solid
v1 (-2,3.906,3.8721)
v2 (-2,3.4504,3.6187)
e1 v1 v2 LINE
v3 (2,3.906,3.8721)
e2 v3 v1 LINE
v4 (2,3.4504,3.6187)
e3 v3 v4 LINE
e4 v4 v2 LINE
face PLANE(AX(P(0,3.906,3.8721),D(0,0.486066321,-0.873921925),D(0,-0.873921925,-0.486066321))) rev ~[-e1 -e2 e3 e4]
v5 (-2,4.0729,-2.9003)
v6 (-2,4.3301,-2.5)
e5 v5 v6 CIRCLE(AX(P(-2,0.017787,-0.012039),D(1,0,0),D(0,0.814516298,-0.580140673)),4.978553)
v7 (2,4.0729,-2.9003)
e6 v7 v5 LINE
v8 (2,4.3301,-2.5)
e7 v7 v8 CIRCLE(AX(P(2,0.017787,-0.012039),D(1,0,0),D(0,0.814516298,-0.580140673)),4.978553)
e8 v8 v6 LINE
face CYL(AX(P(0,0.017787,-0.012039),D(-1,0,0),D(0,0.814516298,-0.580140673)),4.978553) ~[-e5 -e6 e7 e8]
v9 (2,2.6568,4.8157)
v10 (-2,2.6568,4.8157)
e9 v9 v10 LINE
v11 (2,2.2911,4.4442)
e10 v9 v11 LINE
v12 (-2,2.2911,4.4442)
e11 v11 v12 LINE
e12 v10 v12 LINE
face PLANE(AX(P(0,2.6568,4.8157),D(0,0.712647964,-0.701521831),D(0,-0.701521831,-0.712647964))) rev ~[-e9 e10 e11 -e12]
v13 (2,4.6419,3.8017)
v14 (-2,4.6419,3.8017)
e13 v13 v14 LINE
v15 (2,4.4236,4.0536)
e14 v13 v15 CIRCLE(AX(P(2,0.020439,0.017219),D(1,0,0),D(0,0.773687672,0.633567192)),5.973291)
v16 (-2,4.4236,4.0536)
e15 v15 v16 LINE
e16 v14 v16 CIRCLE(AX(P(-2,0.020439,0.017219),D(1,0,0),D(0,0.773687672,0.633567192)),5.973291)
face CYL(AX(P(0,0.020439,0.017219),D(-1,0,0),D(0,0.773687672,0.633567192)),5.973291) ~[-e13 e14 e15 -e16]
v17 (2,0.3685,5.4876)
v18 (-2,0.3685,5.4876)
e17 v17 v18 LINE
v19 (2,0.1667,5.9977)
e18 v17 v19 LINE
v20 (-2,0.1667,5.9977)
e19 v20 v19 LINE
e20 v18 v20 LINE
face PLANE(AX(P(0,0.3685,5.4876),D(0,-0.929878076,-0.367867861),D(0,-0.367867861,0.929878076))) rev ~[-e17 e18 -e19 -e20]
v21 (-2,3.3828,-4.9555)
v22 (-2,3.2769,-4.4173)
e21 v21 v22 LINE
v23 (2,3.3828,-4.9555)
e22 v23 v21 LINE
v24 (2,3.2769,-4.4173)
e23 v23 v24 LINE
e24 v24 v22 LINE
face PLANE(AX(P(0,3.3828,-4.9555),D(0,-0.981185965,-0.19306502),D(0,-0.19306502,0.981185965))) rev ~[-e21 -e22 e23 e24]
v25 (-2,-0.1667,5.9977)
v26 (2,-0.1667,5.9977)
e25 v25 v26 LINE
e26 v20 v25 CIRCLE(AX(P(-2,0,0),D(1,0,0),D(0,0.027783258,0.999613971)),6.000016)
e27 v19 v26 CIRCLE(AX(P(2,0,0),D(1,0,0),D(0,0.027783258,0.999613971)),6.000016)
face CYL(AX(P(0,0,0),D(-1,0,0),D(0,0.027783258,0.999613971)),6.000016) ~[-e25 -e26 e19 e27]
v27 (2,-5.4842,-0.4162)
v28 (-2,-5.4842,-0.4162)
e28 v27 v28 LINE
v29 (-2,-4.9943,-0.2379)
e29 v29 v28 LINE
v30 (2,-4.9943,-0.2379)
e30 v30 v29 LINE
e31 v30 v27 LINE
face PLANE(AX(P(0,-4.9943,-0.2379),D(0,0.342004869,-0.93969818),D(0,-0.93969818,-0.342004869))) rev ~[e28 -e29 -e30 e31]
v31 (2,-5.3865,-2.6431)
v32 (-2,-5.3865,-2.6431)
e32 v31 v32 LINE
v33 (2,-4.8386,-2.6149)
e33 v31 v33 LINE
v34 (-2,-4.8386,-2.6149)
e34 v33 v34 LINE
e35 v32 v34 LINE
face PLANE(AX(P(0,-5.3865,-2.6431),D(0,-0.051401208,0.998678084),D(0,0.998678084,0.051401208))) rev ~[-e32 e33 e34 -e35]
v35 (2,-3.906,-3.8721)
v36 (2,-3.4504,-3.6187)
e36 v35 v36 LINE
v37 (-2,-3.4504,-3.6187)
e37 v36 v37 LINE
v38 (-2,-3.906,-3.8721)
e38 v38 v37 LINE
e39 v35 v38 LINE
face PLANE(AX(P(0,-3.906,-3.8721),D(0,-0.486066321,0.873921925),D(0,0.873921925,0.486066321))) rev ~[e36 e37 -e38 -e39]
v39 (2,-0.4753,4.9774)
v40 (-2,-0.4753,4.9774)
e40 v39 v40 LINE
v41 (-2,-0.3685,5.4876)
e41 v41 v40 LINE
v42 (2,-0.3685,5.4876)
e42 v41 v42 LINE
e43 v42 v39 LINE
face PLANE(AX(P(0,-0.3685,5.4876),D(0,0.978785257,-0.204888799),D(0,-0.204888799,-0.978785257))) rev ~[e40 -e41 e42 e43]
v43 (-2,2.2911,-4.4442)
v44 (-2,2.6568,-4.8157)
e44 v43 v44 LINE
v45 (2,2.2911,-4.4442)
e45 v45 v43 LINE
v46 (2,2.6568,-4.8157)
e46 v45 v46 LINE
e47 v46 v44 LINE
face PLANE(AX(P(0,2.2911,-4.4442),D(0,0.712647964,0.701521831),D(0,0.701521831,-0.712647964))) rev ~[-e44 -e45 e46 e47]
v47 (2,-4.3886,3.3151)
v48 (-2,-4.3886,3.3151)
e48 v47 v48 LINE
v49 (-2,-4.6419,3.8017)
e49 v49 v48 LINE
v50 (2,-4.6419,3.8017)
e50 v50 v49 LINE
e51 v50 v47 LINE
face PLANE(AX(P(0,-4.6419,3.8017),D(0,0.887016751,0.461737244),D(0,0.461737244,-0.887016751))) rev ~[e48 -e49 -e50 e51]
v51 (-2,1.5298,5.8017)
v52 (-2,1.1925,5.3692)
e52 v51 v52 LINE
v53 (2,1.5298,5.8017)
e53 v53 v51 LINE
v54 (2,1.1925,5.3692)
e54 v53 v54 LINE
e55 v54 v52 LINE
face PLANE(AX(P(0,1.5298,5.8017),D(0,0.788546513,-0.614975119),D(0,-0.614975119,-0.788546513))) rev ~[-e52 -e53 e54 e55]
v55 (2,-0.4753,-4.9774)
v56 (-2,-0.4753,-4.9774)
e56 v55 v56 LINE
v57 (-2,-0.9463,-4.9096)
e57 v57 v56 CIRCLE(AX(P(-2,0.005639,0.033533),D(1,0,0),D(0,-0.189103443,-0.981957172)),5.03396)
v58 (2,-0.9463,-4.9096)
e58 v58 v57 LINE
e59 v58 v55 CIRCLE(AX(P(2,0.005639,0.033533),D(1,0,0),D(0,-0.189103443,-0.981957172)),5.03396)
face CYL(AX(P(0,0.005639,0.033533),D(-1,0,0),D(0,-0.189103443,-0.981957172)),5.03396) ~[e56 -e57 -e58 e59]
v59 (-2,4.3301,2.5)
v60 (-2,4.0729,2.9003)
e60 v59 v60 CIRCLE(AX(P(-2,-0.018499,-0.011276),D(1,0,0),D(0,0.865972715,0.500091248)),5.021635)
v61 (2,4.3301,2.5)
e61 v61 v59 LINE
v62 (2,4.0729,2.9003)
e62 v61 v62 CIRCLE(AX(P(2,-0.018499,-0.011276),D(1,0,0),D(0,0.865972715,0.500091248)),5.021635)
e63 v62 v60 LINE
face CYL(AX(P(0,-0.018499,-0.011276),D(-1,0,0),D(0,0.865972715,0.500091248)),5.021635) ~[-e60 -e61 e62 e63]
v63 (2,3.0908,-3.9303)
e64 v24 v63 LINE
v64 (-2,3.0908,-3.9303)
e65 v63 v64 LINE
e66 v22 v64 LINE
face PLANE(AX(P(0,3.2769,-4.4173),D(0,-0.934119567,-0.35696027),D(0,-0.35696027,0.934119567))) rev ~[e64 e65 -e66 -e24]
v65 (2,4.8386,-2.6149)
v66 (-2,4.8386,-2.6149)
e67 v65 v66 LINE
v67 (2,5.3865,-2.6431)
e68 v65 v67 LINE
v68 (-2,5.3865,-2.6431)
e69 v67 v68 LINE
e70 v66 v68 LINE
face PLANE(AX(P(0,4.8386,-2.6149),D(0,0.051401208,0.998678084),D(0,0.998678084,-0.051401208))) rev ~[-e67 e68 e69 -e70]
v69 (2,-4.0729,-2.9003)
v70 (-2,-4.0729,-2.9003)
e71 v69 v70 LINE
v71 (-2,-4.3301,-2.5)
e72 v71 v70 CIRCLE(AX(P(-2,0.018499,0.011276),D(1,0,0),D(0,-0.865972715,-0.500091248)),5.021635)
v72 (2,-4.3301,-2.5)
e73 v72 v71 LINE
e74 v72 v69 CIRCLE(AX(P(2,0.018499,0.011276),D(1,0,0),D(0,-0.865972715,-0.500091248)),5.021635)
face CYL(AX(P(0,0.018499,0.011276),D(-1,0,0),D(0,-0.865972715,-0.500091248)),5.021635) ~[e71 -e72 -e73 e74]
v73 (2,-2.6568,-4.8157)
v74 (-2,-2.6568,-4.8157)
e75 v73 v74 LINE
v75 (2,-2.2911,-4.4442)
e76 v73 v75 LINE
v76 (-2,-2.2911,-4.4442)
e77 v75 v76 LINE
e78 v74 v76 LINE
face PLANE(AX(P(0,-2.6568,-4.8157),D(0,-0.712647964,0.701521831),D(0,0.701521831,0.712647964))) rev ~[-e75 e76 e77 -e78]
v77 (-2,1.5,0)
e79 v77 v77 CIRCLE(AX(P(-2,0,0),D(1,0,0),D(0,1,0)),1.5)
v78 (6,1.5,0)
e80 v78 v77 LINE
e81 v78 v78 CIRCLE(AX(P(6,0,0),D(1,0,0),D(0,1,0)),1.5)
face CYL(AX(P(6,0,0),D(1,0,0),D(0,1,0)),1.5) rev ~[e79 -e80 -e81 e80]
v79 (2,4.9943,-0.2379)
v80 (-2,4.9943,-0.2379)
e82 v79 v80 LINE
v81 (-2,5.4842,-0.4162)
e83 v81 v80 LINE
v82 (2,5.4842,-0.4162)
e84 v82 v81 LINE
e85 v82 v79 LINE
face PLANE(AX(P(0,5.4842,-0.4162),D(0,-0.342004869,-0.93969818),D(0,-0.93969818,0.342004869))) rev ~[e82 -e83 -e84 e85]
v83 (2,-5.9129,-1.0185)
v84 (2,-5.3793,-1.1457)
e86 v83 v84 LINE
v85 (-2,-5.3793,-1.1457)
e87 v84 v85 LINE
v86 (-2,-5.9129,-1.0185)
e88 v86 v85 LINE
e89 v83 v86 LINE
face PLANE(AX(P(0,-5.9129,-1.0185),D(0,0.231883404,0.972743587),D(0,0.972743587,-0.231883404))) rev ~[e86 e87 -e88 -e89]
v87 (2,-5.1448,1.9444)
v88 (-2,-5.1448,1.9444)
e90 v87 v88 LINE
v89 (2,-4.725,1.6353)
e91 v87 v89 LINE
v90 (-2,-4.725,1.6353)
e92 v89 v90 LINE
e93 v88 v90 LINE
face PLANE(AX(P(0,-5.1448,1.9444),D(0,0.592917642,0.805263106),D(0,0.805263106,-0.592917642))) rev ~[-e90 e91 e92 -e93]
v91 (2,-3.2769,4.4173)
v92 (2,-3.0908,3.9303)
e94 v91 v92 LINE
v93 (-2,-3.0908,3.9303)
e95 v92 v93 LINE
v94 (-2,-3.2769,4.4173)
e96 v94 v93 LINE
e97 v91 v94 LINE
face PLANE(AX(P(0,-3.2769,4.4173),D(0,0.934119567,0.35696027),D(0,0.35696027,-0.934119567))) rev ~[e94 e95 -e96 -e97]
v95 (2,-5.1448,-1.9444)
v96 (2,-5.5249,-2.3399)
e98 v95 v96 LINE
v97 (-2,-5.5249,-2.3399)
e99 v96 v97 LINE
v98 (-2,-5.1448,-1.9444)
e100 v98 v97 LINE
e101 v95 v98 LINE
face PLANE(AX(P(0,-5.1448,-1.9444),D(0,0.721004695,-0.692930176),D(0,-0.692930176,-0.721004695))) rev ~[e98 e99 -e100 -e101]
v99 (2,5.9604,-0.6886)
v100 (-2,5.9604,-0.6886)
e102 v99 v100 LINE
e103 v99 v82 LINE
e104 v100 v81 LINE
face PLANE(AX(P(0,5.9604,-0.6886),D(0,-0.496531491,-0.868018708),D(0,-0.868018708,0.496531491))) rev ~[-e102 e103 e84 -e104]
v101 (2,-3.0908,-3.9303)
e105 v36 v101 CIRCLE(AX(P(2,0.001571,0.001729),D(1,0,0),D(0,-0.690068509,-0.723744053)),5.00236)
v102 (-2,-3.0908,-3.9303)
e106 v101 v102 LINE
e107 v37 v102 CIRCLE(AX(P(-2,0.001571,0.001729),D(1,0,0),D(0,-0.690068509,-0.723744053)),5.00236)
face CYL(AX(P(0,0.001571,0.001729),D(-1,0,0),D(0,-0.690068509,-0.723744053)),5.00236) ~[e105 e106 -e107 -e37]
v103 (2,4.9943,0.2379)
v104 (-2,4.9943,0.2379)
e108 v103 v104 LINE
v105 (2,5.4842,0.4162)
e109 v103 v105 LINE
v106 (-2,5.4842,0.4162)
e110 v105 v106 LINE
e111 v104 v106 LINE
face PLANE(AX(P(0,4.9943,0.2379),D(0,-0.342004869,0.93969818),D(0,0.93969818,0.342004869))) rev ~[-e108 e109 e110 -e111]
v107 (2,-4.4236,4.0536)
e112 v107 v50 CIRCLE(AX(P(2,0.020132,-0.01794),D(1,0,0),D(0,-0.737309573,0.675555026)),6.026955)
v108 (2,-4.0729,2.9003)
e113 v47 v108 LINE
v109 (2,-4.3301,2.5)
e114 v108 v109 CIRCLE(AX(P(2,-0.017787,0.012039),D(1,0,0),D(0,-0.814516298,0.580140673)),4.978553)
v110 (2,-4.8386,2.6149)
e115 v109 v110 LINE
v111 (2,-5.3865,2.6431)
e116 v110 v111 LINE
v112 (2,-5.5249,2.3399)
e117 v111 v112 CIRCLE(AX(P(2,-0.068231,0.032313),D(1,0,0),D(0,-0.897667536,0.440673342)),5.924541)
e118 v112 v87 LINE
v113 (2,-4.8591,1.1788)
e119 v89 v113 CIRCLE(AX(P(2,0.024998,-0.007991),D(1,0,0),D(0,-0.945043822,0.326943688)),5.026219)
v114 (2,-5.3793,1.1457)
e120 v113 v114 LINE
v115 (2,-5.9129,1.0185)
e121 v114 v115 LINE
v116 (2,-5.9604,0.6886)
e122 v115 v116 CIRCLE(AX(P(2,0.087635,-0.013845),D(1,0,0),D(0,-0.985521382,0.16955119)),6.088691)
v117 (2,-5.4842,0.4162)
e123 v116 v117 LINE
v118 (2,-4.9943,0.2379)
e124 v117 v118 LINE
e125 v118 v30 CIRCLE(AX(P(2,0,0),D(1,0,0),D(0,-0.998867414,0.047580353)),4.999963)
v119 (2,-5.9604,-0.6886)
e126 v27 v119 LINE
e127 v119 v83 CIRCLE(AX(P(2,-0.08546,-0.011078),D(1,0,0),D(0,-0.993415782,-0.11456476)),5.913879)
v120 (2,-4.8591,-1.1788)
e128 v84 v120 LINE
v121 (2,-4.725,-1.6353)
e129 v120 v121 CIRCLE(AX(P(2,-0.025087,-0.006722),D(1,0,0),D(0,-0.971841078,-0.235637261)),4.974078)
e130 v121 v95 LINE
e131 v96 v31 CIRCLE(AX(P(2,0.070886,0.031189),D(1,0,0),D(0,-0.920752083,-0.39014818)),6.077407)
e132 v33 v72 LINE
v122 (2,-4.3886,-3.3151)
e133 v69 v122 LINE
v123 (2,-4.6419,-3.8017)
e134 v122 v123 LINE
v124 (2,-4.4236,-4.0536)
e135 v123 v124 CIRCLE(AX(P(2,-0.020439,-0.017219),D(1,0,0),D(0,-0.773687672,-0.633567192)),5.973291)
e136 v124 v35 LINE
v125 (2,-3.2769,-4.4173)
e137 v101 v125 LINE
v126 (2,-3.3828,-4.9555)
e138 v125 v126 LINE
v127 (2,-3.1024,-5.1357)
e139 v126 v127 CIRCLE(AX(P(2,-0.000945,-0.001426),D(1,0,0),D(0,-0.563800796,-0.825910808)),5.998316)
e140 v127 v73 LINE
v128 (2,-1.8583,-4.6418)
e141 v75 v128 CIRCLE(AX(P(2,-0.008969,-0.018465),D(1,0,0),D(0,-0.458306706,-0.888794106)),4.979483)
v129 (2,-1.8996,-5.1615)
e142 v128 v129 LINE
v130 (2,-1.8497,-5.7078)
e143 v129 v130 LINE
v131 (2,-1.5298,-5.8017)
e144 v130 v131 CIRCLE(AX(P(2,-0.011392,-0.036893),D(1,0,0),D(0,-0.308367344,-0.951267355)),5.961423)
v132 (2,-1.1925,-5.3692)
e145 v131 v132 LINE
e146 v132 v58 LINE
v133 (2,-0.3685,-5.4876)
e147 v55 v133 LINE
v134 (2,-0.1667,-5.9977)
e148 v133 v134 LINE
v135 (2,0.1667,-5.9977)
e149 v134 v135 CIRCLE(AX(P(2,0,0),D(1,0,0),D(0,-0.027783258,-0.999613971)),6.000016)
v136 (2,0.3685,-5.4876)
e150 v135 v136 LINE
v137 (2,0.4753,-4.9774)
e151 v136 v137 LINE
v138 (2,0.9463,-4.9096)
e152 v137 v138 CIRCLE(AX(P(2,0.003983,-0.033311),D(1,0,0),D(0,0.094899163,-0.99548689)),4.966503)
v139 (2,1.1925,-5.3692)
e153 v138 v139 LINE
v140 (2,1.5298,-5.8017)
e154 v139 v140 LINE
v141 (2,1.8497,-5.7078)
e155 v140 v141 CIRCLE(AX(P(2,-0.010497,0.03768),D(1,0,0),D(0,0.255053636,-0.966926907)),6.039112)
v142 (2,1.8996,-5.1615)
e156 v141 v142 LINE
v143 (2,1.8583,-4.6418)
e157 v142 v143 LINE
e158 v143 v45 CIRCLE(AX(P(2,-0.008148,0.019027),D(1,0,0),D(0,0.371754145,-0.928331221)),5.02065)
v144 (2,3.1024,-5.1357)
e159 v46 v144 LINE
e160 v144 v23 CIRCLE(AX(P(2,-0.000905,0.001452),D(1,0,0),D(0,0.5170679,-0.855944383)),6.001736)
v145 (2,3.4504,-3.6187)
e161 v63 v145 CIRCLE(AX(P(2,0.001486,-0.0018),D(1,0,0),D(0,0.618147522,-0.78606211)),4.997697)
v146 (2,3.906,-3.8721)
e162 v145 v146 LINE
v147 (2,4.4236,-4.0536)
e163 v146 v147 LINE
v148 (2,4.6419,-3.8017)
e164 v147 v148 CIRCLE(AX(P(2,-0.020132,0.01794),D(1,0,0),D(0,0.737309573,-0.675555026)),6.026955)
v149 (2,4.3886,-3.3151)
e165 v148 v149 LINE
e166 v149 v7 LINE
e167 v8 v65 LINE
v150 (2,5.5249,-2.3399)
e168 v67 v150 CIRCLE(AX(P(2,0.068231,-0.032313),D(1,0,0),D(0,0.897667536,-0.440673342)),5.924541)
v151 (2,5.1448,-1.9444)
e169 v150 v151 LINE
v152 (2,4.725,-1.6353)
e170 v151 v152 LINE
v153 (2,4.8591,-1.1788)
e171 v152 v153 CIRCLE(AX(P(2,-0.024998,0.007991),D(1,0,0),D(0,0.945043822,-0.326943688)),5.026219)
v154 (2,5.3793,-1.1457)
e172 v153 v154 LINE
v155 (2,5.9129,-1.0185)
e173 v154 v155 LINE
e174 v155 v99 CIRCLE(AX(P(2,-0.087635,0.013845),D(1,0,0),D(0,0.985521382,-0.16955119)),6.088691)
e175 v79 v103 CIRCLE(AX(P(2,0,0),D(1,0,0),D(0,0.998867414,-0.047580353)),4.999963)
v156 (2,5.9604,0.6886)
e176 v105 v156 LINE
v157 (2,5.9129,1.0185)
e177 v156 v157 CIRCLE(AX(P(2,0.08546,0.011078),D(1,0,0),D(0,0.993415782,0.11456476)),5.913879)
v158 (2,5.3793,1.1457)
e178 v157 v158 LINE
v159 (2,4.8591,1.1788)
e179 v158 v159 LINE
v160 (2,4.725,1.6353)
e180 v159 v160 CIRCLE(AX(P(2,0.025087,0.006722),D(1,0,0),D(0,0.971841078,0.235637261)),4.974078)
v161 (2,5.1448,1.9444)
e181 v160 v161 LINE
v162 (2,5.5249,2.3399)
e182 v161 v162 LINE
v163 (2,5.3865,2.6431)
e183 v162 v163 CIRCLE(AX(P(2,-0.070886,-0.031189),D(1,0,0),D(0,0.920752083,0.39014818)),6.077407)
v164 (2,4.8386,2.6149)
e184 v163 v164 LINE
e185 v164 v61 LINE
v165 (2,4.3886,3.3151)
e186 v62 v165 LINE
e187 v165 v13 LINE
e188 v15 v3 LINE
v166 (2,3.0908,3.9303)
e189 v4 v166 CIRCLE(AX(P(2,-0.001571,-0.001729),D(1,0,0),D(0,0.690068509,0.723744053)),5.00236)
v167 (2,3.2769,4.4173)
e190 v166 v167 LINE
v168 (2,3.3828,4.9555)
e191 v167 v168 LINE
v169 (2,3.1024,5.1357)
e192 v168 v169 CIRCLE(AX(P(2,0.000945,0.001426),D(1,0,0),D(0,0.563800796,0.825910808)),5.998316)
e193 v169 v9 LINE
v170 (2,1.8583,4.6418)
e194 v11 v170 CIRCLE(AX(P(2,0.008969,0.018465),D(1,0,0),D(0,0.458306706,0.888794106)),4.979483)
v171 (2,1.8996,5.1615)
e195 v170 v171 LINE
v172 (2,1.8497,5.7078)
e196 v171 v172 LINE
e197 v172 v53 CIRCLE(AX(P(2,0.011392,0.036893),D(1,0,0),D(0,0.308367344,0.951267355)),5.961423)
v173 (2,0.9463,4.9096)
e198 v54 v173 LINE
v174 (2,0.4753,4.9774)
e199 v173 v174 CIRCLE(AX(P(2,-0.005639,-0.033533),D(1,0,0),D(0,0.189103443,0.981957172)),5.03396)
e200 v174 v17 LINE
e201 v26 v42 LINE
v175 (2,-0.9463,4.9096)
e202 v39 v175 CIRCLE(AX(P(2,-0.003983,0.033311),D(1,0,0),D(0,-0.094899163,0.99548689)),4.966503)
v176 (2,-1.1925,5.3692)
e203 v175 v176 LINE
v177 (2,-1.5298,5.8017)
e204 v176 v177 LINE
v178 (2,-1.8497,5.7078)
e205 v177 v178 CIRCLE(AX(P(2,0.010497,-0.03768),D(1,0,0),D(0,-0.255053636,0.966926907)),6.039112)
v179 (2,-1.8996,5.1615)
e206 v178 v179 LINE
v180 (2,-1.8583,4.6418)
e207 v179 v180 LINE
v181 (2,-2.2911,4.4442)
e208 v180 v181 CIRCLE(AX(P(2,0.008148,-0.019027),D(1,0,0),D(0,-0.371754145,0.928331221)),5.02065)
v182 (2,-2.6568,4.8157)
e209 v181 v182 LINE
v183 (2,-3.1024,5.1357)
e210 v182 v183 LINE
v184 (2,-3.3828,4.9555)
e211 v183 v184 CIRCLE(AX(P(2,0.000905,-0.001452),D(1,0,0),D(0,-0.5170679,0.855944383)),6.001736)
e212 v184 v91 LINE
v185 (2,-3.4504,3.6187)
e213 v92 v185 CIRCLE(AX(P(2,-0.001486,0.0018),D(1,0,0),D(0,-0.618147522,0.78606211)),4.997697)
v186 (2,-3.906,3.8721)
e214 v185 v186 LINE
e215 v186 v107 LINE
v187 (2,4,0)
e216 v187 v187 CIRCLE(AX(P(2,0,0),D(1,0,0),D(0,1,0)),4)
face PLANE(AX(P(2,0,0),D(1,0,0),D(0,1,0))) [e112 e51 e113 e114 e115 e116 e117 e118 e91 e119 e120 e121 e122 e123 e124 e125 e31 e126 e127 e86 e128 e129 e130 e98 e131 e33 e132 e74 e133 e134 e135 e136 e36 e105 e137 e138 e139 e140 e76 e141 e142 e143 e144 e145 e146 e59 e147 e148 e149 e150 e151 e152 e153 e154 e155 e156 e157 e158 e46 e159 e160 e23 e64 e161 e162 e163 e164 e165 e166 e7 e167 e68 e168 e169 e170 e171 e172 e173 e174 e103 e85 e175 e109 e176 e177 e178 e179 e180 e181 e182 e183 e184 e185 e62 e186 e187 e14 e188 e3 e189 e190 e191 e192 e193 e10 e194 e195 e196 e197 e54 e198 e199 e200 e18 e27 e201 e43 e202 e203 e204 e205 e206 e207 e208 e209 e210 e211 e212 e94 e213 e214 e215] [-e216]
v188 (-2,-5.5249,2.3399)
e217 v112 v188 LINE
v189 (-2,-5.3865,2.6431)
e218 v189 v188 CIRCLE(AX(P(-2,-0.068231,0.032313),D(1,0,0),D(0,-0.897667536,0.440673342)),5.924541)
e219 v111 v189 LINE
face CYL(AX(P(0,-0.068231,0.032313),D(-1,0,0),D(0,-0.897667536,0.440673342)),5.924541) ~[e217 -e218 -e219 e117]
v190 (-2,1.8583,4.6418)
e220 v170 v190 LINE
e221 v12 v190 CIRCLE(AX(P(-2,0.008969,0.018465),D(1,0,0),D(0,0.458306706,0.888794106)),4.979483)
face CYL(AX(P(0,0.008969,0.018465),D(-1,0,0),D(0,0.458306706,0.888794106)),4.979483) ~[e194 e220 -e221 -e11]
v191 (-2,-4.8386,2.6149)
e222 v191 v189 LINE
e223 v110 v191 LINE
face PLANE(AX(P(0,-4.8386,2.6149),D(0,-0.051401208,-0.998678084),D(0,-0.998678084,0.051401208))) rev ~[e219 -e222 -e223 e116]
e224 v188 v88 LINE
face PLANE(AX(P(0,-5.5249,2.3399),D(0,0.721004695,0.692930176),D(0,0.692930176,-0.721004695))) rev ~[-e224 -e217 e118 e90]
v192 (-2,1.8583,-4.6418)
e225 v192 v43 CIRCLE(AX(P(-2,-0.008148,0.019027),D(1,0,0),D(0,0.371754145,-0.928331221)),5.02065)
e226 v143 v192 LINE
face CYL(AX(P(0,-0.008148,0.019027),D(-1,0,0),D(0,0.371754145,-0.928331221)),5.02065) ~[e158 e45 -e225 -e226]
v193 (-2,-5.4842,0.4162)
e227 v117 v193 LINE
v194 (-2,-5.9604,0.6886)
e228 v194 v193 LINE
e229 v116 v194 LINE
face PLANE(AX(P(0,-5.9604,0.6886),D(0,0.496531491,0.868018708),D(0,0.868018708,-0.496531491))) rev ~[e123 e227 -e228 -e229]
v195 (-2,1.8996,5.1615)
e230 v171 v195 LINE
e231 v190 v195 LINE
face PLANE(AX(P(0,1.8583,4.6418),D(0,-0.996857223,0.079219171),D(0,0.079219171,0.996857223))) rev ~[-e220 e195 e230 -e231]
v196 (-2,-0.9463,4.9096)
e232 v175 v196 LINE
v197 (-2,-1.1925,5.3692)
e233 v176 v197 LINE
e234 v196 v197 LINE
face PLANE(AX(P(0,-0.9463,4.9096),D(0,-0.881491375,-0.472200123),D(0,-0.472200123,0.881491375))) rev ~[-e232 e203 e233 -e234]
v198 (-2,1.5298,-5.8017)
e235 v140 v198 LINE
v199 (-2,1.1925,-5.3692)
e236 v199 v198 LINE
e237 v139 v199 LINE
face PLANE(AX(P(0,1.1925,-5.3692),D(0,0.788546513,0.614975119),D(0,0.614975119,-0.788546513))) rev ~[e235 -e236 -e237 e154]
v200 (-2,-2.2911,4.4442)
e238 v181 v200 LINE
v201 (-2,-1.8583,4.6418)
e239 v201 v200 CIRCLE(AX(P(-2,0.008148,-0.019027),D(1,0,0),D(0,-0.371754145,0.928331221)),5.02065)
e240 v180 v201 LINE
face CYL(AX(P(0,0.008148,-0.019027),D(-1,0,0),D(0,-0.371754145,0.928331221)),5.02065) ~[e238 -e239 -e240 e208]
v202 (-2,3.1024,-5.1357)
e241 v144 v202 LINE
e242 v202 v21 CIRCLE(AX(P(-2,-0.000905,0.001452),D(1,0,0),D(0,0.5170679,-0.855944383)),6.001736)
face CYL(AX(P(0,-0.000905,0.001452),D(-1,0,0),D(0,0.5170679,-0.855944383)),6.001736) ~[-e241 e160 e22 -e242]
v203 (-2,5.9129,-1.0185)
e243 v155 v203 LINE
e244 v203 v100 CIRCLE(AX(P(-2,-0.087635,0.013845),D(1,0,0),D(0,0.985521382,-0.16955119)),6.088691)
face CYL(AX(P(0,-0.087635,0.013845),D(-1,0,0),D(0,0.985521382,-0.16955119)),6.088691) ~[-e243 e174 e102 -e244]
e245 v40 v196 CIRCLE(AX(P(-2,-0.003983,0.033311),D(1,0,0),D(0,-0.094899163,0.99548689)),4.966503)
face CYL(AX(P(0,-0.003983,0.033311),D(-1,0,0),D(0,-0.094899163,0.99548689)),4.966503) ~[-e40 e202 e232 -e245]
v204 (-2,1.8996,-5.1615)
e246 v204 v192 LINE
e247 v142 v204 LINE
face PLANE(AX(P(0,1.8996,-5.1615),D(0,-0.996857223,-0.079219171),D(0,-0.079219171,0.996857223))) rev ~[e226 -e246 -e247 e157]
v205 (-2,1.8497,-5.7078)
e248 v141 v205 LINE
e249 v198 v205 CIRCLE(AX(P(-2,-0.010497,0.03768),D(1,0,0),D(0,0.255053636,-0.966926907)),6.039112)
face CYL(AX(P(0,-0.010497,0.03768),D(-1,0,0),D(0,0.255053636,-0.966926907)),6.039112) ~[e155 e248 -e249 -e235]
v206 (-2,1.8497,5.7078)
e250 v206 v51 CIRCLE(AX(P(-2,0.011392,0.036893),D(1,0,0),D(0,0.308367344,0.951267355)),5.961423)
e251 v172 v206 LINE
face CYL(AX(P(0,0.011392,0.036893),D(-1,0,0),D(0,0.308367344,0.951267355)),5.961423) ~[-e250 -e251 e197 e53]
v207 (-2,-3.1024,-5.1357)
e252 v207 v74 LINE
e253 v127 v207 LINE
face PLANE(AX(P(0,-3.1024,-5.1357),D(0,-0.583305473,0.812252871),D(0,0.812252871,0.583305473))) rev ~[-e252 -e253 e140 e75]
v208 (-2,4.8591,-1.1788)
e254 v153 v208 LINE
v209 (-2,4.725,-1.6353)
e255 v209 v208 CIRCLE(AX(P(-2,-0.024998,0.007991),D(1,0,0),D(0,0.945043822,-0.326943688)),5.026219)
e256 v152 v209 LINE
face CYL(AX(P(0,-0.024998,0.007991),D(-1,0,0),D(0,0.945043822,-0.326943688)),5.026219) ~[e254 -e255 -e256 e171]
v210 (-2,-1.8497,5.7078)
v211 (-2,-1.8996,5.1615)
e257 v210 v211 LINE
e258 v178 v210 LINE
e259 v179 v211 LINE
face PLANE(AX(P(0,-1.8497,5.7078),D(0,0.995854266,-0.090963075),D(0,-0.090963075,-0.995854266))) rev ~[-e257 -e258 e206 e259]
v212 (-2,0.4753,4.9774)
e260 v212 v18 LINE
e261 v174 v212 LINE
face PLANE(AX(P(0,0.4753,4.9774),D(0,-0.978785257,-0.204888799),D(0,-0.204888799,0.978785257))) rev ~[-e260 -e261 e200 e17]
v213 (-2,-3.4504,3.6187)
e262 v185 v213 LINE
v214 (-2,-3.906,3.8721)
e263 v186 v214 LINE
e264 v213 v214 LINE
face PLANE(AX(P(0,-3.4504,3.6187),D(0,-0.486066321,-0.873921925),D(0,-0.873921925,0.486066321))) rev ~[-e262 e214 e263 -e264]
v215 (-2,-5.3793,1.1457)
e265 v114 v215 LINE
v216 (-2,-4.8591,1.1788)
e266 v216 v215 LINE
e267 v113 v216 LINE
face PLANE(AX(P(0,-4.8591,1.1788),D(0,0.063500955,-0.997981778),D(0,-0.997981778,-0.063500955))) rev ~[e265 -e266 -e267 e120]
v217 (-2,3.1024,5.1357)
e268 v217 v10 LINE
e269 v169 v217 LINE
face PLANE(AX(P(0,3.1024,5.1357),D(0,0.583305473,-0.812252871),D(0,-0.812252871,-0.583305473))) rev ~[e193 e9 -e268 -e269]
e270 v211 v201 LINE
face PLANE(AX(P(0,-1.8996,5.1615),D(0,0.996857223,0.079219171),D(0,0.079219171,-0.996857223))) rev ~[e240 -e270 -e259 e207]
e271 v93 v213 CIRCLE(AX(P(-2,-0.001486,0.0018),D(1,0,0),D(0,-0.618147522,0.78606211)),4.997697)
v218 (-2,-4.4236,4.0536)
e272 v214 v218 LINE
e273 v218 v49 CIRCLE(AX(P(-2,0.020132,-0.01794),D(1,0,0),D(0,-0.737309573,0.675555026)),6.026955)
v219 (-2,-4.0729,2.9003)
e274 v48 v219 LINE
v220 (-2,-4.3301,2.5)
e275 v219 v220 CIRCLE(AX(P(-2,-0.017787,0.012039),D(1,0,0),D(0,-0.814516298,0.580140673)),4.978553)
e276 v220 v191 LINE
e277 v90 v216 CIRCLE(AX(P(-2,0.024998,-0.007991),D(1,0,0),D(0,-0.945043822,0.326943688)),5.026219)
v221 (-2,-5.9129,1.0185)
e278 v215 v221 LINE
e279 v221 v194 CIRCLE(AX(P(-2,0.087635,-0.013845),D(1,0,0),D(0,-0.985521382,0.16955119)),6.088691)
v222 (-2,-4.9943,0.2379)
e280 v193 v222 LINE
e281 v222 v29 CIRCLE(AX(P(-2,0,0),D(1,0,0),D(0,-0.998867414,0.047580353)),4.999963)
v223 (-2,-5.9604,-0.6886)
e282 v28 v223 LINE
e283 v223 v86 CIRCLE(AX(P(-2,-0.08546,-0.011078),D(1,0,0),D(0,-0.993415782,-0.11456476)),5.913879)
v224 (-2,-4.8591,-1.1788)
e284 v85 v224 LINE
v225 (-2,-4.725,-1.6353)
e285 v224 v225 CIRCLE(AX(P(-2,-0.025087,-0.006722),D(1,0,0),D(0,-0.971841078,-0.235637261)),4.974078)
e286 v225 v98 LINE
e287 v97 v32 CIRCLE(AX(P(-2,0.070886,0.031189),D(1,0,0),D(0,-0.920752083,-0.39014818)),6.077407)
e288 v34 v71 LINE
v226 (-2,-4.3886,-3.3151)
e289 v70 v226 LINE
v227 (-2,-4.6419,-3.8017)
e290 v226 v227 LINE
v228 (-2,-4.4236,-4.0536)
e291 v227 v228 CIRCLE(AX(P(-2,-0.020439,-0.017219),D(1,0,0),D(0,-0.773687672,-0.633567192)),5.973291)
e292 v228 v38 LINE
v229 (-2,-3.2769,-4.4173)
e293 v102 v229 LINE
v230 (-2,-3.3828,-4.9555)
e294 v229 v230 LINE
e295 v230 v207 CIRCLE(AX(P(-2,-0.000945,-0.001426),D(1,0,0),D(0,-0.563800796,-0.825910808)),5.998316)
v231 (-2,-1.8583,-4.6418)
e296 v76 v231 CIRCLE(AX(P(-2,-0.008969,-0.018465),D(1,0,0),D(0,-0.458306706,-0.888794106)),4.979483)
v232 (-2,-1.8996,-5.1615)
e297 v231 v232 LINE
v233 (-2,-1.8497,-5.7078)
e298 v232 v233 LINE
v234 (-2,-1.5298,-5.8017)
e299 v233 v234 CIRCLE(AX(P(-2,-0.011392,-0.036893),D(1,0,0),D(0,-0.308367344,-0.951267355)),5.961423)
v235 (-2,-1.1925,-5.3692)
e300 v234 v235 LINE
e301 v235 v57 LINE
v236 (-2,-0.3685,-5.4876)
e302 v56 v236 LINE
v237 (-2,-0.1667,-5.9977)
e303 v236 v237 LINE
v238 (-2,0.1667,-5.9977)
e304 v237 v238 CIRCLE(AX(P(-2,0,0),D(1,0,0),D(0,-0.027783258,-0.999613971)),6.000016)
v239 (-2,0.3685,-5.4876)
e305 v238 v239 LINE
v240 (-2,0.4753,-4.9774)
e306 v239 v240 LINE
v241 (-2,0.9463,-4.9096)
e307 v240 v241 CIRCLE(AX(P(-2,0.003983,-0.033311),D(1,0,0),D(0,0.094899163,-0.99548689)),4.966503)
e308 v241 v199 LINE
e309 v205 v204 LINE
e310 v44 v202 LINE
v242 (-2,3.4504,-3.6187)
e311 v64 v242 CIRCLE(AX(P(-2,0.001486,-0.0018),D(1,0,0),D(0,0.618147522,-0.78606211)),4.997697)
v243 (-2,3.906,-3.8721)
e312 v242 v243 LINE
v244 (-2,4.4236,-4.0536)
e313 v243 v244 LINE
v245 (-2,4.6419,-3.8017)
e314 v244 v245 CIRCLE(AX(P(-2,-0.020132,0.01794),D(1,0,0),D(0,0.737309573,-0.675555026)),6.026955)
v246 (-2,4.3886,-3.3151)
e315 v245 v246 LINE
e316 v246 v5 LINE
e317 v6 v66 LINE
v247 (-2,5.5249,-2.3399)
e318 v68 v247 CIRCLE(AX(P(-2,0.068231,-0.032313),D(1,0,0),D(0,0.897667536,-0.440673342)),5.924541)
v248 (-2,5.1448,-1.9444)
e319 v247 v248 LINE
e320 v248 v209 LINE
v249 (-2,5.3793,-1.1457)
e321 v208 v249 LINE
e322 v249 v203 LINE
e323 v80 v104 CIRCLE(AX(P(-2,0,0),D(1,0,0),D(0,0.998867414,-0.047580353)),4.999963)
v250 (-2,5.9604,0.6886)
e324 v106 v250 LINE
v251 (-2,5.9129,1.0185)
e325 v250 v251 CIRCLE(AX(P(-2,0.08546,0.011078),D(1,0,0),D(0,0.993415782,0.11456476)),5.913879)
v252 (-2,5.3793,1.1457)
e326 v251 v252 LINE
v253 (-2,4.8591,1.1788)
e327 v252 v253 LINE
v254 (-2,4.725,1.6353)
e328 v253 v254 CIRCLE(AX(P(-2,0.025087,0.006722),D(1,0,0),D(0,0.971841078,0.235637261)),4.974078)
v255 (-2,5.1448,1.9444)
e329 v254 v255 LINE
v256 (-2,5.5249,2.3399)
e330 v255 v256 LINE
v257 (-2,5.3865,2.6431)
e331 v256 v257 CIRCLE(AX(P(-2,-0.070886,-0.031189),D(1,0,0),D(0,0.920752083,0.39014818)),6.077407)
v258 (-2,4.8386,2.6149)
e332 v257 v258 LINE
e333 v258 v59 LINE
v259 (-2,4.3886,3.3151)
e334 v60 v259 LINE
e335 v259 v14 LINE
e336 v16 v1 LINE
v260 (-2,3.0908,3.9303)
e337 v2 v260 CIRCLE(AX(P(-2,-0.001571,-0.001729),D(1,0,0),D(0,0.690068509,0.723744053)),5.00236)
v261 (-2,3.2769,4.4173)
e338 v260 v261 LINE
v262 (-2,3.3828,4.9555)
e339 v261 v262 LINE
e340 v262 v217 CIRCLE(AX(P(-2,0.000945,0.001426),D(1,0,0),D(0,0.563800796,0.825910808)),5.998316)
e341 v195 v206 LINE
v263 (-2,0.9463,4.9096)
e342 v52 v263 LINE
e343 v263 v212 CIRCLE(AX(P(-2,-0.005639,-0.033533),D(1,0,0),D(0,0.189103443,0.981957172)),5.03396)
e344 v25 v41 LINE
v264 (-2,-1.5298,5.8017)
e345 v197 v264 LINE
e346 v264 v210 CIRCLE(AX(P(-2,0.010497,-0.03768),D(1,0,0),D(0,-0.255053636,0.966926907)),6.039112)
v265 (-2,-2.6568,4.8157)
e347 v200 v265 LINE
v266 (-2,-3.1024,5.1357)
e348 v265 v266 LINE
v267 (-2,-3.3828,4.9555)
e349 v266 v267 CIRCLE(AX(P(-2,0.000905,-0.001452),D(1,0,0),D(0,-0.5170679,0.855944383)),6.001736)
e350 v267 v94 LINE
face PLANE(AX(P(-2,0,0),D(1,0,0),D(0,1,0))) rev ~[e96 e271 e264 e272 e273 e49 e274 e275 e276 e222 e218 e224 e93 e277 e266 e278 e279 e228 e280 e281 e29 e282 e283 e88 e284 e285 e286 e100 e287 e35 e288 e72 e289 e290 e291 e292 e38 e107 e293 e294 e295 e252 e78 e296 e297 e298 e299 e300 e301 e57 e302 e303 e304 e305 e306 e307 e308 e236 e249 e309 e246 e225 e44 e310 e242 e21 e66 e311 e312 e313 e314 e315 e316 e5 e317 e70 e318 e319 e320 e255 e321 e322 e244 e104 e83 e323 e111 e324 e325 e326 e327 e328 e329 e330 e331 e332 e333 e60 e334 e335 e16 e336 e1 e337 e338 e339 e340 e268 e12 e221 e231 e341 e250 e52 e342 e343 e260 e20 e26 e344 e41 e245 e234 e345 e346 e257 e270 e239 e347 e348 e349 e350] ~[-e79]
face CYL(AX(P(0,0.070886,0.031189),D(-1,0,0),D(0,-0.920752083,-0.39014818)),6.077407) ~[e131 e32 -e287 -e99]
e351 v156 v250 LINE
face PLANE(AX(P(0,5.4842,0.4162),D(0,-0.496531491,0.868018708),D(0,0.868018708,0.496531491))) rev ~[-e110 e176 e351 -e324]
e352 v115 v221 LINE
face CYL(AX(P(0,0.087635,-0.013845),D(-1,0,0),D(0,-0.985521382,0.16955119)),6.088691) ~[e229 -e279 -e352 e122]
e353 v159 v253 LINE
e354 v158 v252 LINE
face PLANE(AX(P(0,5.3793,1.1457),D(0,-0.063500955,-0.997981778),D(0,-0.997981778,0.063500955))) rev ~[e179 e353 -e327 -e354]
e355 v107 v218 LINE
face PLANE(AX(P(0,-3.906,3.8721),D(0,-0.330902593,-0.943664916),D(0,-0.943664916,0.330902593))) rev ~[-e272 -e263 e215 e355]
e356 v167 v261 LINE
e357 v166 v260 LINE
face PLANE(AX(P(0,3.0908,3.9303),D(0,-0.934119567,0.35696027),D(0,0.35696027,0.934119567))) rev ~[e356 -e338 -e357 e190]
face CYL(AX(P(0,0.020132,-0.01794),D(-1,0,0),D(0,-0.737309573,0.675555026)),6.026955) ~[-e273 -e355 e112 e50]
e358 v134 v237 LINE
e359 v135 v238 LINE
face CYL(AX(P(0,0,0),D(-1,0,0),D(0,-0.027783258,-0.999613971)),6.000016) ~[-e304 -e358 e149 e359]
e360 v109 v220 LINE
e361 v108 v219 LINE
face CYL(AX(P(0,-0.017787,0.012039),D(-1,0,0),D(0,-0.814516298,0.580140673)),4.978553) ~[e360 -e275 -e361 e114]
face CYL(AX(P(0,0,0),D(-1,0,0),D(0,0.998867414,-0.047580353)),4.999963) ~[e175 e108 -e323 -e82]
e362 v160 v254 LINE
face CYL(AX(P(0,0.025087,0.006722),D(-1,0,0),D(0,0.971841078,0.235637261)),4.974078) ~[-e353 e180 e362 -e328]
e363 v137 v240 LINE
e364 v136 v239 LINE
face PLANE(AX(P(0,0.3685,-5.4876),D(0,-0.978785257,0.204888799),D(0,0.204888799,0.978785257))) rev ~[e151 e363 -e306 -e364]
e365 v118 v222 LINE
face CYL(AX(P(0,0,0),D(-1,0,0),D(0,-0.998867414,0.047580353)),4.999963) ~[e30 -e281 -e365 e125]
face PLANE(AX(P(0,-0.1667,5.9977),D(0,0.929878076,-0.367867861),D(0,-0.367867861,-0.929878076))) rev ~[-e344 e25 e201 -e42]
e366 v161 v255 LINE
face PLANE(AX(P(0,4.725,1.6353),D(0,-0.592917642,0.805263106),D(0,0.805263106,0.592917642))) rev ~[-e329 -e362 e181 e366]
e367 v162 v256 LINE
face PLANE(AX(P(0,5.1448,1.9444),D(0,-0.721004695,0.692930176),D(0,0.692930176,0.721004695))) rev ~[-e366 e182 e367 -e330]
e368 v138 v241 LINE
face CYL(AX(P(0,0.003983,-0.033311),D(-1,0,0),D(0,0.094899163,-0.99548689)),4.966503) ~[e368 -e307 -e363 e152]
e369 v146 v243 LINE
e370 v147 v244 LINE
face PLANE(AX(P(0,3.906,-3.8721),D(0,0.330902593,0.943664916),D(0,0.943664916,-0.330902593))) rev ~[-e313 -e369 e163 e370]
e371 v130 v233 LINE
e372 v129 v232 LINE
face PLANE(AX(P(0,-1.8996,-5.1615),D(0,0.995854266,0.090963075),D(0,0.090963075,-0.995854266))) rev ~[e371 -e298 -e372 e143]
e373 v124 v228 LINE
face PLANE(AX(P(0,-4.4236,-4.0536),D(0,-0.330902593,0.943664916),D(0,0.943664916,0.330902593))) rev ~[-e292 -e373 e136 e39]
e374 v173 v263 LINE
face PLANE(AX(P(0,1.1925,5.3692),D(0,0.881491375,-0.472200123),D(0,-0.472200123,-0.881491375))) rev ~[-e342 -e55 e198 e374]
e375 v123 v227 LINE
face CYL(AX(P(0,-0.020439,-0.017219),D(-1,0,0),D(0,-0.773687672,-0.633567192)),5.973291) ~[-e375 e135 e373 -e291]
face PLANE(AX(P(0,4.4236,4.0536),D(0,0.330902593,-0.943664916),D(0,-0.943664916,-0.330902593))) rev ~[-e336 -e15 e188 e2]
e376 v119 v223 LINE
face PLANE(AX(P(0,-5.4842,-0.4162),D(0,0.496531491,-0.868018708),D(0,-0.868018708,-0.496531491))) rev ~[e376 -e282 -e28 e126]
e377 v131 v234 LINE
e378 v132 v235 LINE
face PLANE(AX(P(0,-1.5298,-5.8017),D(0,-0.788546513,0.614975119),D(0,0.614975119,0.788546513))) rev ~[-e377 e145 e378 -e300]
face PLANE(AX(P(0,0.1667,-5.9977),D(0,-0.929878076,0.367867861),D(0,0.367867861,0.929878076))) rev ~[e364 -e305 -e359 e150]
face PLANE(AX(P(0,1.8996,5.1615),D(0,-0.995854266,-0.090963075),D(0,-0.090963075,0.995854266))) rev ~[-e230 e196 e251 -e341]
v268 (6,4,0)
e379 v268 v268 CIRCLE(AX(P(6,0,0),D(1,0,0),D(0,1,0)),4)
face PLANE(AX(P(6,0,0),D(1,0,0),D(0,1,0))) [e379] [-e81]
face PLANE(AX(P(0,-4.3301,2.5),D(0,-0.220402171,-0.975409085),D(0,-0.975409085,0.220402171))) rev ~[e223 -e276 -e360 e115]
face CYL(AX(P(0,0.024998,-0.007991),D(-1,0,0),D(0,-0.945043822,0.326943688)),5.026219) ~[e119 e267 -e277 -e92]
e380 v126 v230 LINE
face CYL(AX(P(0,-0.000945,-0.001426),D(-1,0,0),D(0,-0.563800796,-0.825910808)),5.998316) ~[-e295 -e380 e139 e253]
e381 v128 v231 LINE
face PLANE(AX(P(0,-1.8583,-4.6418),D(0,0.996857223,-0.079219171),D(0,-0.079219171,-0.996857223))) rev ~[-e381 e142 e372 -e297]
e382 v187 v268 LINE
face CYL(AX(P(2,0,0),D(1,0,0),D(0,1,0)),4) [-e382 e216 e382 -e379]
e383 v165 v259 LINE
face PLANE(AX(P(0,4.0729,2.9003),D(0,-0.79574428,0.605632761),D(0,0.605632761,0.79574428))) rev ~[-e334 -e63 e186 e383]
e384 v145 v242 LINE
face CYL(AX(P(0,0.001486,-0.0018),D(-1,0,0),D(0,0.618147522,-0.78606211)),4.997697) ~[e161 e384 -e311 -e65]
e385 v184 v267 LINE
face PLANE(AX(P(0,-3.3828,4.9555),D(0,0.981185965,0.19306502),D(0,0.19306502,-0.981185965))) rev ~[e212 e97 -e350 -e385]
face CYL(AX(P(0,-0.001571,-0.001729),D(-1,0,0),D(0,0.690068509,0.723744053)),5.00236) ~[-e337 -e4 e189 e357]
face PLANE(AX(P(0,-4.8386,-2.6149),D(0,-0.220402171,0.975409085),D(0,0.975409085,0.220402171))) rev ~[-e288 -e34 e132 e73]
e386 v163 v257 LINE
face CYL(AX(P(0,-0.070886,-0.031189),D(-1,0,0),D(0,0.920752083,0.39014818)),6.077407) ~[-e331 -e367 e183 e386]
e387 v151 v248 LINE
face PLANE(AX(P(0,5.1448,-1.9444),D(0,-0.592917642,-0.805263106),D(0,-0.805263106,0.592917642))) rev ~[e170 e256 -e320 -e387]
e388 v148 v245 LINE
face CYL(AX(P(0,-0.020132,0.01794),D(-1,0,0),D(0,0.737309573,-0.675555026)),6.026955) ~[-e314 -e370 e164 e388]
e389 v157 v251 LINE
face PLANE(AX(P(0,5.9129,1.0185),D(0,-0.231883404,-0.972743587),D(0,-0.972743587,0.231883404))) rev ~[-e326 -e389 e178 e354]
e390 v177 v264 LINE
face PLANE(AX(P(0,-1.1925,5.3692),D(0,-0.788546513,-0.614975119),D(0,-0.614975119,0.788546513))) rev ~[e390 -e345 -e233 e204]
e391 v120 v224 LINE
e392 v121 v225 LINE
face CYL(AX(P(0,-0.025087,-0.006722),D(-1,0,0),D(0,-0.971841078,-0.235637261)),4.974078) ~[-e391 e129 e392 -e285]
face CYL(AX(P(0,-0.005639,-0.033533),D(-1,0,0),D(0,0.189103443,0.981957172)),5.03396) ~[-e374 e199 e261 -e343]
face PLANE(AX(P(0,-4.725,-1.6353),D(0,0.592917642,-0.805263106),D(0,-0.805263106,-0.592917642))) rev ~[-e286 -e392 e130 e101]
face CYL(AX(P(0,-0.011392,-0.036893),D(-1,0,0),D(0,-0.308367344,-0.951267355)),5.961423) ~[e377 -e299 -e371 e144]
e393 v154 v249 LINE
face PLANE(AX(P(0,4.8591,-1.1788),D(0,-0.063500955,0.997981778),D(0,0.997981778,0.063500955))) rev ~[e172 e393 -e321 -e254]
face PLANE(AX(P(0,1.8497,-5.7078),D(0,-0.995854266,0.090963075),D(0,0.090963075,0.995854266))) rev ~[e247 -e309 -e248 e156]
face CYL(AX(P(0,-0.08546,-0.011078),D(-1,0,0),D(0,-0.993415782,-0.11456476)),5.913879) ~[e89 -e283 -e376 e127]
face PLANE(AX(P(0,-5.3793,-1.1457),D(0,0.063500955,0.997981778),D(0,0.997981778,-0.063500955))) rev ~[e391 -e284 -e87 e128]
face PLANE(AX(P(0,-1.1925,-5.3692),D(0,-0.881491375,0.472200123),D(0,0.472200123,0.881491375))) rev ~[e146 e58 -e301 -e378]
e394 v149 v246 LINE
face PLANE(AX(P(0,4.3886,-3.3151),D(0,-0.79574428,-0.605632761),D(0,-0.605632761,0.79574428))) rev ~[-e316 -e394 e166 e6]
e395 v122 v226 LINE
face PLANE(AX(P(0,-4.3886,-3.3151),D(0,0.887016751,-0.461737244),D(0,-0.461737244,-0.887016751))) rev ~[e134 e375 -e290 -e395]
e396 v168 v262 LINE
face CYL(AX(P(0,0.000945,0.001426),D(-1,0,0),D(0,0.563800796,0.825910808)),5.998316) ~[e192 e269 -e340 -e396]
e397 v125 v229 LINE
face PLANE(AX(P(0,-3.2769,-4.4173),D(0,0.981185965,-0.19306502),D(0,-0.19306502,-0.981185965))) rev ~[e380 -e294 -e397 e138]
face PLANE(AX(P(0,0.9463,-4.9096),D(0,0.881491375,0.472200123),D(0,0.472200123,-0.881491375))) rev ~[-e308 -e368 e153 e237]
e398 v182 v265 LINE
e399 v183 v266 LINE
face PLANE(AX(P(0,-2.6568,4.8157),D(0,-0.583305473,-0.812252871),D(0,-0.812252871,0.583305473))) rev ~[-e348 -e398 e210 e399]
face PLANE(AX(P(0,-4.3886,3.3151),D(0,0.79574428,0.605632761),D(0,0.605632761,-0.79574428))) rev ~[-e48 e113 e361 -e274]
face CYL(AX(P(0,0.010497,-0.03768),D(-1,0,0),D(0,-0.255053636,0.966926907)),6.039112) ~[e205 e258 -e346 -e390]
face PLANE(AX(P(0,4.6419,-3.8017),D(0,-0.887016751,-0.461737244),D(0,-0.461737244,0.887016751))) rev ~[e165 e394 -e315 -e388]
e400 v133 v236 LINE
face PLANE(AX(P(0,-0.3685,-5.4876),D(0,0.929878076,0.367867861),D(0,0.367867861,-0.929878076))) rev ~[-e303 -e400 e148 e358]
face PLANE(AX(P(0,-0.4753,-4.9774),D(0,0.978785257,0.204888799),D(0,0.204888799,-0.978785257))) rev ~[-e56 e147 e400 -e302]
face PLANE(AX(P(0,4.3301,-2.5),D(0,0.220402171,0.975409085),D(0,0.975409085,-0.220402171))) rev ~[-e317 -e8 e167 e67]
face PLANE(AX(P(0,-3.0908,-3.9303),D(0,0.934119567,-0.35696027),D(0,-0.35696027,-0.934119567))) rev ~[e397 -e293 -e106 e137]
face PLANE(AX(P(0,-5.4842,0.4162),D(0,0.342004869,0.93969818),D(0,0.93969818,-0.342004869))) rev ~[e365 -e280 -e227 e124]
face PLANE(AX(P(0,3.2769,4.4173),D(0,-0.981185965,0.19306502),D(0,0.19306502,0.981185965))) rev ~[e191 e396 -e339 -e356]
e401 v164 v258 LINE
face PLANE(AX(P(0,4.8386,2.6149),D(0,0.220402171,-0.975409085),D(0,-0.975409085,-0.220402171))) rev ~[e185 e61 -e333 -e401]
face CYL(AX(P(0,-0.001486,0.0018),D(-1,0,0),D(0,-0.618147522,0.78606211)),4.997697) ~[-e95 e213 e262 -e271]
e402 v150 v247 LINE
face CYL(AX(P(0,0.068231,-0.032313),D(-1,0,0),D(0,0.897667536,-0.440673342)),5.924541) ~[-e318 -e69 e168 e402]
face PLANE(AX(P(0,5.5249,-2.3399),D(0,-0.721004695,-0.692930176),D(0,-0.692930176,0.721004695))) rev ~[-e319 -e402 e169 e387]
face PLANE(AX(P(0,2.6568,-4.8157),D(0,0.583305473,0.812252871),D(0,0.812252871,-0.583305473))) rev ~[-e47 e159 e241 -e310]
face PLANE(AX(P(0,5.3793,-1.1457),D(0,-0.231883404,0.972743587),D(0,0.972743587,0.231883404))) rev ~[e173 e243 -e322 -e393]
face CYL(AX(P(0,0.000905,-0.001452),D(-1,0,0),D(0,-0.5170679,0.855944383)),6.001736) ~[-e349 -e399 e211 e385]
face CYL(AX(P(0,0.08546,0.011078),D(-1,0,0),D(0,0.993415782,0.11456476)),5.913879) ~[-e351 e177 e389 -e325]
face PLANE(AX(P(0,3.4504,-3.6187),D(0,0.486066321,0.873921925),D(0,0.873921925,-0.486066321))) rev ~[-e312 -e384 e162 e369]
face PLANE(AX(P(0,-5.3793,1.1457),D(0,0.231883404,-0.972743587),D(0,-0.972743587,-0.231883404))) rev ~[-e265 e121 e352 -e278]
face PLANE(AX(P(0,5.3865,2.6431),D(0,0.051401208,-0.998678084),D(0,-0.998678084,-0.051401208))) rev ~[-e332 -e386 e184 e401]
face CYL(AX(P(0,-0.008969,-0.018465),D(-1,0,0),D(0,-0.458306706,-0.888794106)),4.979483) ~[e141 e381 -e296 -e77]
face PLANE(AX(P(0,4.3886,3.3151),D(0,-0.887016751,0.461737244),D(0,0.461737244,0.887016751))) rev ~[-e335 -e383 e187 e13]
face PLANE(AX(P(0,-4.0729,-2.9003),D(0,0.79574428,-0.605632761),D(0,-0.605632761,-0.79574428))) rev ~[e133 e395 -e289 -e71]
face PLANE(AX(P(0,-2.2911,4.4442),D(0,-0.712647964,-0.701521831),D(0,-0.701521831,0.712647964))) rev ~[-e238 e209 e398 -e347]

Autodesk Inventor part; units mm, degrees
ref_plane "YZ Plane" through (0, 0, 0) normal (1, 0, 0) x (0, 1, 0)
ref_plane "XZ Plane" through (0, 0, 0) normal (0, 1, 0) x (-1, 0, 0)
ref_plane "XY Plane" through (0, 0, 0) normal (0, 0, 1) x (1, 0, 0)
sketch "Skizze_1" plane through (0, 0, 0) normal (1, 0, 0) x (0, 1, 0)
  arc A0 (0.1667, 5.9977) -> (-0.1667, 5.9977) centre (0, 0) ccw
  line L0 (-0.1667, 5.9977) -> (-0.3685, 5.4876)
  line L1 (-0.3685, 5.4876) -> (-0.4753, 4.9774)
  arc A1 (-0.4753, 4.9774) -> (-0.9463, 4.9096) centre (0, 0) ccw
  line L2 (-0.9463, 4.9096) -> (-1.1925, 5.3692)
  line L3 (-1.1925, 5.3692) -> (-1.5298, 5.8017)
  arc A2 (-1.5298, 5.8017) -> (-1.8497, 5.7078) centre (0, 0) ccw
  line L4 (-1.8497, 5.7078) -> (-1.8996, 5.1615)
  line L5 (-1.8996, 5.1615) -> (-1.8583, 4.6418)
  arc A3 (-1.8583, 4.6418) -> (-2.2911, 4.4442) centre (0, 0) ccw
  line L6 (-2.2911, 4.4442) -> (-2.6568, 4.8157)
  line L7 (-2.6568, 4.8157) -> (-3.1024, 5.1357)
  arc A4 (-3.1024, 5.1357) -> (-3.3828, 4.9555) centre (0, 0) ccw
  line L8 (-3.3828, 4.9555) -> (-3.2769, 4.4173)
  line L9 (-3.2769, 4.4173) -> (-3.0908, 3.9303)
  arc A5 (-3.0908, 3.9303) -> (-3.4504, 3.6187) centre (0, 0) ccw
  line L10 (-3.4504, 3.6187) -> (-3.906, 3.8721)
  line L11 (-3.906, 3.8721) -> (-4.4236, 4.0536)
  arc A6 (-4.4236, 4.0536) -> (-4.6419, 3.8017) centre (0, 0) ccw
  line L12 (-4.6419, 3.8017) -> (-4.3886, 3.3151)
  line L13 (-4.3886, 3.3151) -> (-4.0729, 2.9003)
  arc A7 (-4.0729, 2.9003) -> (-4.3301, 2.5) centre (0, 0) ccw
  line L14 (-4.3301, 2.5) -> (-4.8386, 2.6149)
  line L15 (-4.8386, 2.6149) -> (-5.3865, 2.6431)
  arc A8 (-5.3865, 2.6431) -> (-5.5249, 2.3399) centre (0, 0) ccw
  line L16 (-5.5249, 2.3399) -> (-5.1448, 1.9444)
  line L17 (-5.1448, 1.9444) -> (-4.725, 1.6353)
  arc A9 (-4.725, 1.6353) -> (-4.8591, 1.1788) centre (0, 0) ccw
  line L18 (-4.8591, 1.1788) -> (-5.3793, 1.1457)
  line L19 (-5.3793, 1.1457) -> (-5.9129, 1.0185)
  arc A10 (-5.9129, 1.0185) -> (-5.9604, 0.6886) centre (0, 0) ccw
  line L20 (-5.9604, 0.6886) -> (-5.4842, 0.4162)
  line L21 (-5.4842, 0.4162) -> (-4.9943, 0.2379)
  arc A11 (-4.9943, 0.2379) -> (-4.9943, -0.2379) centre (0, 0) ccw
  line L22 (-4.9943, -0.2379) -> (-5.4842, -0.4162)
  line L23 (-5.4842, -0.4162) -> (-5.9604, -0.6886)
  arc A12 (-5.9604, -0.6886) -> (-5.9129, -1.0185) centre (0, 0) ccw
  line L24 (-5.9129, -1.0185) -> (-5.3793, -1.1457)
  line L25 (-5.3793, -1.1457) -> (-4.8591, -1.1788)
  arc A13 (-4.8591, -1.1788) -> (-4.725, -1.6353) centre (0, 0) ccw
  line L26 (-4.725, -1.6353) -> (-5.1448, -1.9444)
  line L27 (-5.1448, -1.9444) -> (-5.5249, -2.3399)
  arc A14 (-5.5249, -2.3399) -> (-5.3865, -2.6431) centre (0, 0) ccw
  line L28 (-5.3865, -2.6431) -> (-4.8386, -2.6149)
  line L29 (-4.8386, -2.6149) -> (-4.3301, -2.5)
  arc A15 (-4.3301, -2.5) -> (-4.0729, -2.9003) centre (0, 0) ccw
  line L30 (-4.0729, -2.9003) -> (-4.3886, -3.3151)
  line L31 (-4.3886, -3.3151) -> (-4.6419, -3.8017)
  arc A16 (-4.6419, -3.8017) -> (-4.4236, -4.0536) centre (0, 0) ccw
  line L32 (-4.4236, -4.0536) -> (-3.906, -3.8721)
  line L33 (-3.906, -3.8721) -> (-3.4504, -3.6187)
  arc A17 (-3.4504, -3.6187) -> (-3.0908, -3.9303) centre (0, 0) ccw
  line L34 (-3.0908, -3.9303) -> (-3.2769, -4.4173)
  line L35 (-3.2769, -4.4173) -> (-3.3828, -4.9555)
  arc A18 (-3.3828, -4.9555) -> (-3.1024, -5.1357) centre (0, 0) ccw
  line L36 (-3.1024, -5.1357) -> (-2.6568, -4.8157)
  line L37 (-2.6568, -4.8157) -> (-2.2911, -4.4442)
  arc A19 (-2.2911, -4.4442) -> (-1.8583, -4.6418) centre (0, 0) ccw
  line L38 (-1.8583, -4.6418) -> (-1.8996, -5.1615)
  line L39 (-1.8996, -5.1615) -> (-1.8497, -5.7078)
  arc A20 (-1.8497, -5.7078) -> (-1.5298, -5.8017) centre (0, 0) ccw
  line L40 (-1.5298, -5.8017) -> (-1.1925, -5.3692)
  line L41 (-1.1925, -5.3692) -> (-0.9463, -4.9096)
  arc A21 (-0.9463, -4.9096) -> (-0.4753, -4.9774) centre (0, 0) ccw
  line L42 (-0.4753, -4.9774) -> (-0.3685, -5.4876)
  line L43 (-0.3685, -5.4876) -> (-0.1667, -5.9977)
  arc A22 (-0.1667, -5.9977) -> (0.1667, -5.9977) centre (0, 0) ccw
  line L44 (0.1667, -5.9977) -> (0.3685, -5.4876)
  line L45 (0.3685, -5.4876) -> (0.4753, -4.9774)
  arc A23 (0.4753, -4.9774) -> (0.9463, -4.9096) centre (0, 0) ccw
  line L46 (0.9463, -4.9096) -> (1.1925, -5.3692)
  line L47 (1.1925, -5.3692) -> (1.5298, -5.8017)
  arc A24 (1.5298, -5.8017) -> (1.8497, -5.7078) centre (0, 0) ccw
  line L48 (1.8497, -5.7078) -> (1.8996, -5.1615)
  line L49 (1.8996, -5.1615) -> (1.8583, -4.6418)
  arc A25 (1.8583, -4.6418) -> (2.2911, -4.4442) centre (0, 0) ccw
  line L50 (2.2911, -4.4442) -> (2.6568, -4.8157)
  line L51 (2.6568, -4.8157) -> (3.1024, -5.1357)
  arc A26 (3.1024, -5.1357) -> (3.3828, -4.9555) centre (0, 0) ccw
  line L52 (3.3828, -4.9555) -> (3.2769, -4.4173)
  line L53 (3.2769, -4.4173) -> (3.0908, -3.9303)
  arc A27 (3.0908, -3.9303) -> (3.4504, -3.6187) centre (0, 0) ccw
  line L54 (3.4504, -3.6187) -> (3.906, -3.8721)
  line L55 (3.906, -3.8721) -> (4.4236, -4.0536)
  arc A28 (4.4236, -4.0536) -> (4.6419, -3.8017) centre (0, 0) ccw
  line L56 (4.6419, -3.8017) -> (4.3886, -3.3151)
  line L57 (4.3886, -3.3151) -> (4.0729, -2.9003)
  arc A29 (4.0729, -2.9003) -> (4.3301, -2.5) centre (0, 0) ccw
  line L58 (4.3301, -2.5) -> (4.8386, -2.6149)
  line L59 (4.8386, -2.6149) -> (5.3865, -2.6431)
  arc A30 (5.3865, -2.6431) -> (5.5249, -2.3399) centre (0, 0) ccw
  line L60 (5.5249, -2.3399) -> (5.1448, -1.9444)
  line L61 (5.1448, -1.9444) -> (4.725, -1.6353)
  arc A31 (4.725, -1.6353) -> (4.8591, -1.1788) centre (0, 0) ccw
  line L62 (4.8591, -1.1788) -> (5.3793, -1.1457)
  line L63 (5.3793, -1.1457) -> (5.9129, -1.0185)
  arc A32 (5.9129, -1.0185) -> (5.9604, -0.6886) centre (0, 0) ccw
  line L64 (5.9604, -0.6886) -> (5.4842, -0.4162)
  line L65 (5.4842, -0.4162) -> (4.9943, -0.2379)
  arc A33 (4.9943, -0.2379) -> (4.9943, 0.2379) centre (0, 0) ccw
  line L66 (4.9943, 0.2379) -> (5.4842, 0.4162)
  line L67 (5.4842, 0.4162) -> (5.9604, 0.6886)
  arc A34 (5.9604, 0.6886) -> (5.9129, 1.0185) centre (0, 0) ccw
  line L68 (5.9129, 1.0185) -> (5.3793, 1.1457)
  line L69 (5.3793, 1.1457) -> (4.8591, 1.1788)
  arc A35 (4.8591, 1.1788) -> (4.725, 1.6353) centre (0, 0) ccw
  line L70 (4.725, 1.6353) -> (5.1448, 1.9444)
  line L71 (5.1448, 1.9444) -> (5.5249, 2.3399)
  arc A36 (5.5249, 2.3399) -> (5.3865, 2.6431) centre (0, 0) ccw
  line L72 (5.3865, 2.6431) -> (4.8386, 2.6149)
  line L73 (4.8386, 2.6149) -> (4.3301, 2.5)
  arc A37 (4.3301, 2.5) -> (4.0729, 2.9003) centre (0, 0) ccw
  line L74 (4.0729, 2.9003) -> (4.3886, 3.3151)
  line L75 (4.3886, 3.3151) -> (4.6419, 3.8017)
  arc A38 (4.6419, 3.8017) -> (4.4236, 4.0536) centre (0, 0) ccw
  line L76 (4.4236, 4.0536) -> (3.906, 3.8721)
  line L77 (3.906, 3.8721) -> (3.4504, 3.6187)
  arc A39 (3.4504, 3.6187) -> (3.0908, 3.9303) centre (0, 0) ccw
  line L78 (3.0908, 3.9303) -> (3.2769, 4.4173)
  line L79 (3.2769, 4.4173) -> (3.3828, 4.9555)
  arc A40 (3.3828, 4.9555) -> (3.1024, 5.1357) centre (0, 0) ccw
  line L80 (3.1024, 5.1357) -> (2.6568, 4.8157)
  line L81 (2.6568, 4.8157) -> (2.2911, 4.4442)
  arc A41 (2.2911, 4.4442) -> (1.8583, 4.6418) centre (0, 0) ccw
  line L82 (1.8583, 4.6418) -> (1.8996, 5.1615)
  line L83 (1.8996, 5.1615) -> (1.8497, 5.7078)
  arc A42 (1.8497, 5.7078) -> (1.5298, 5.8017) centre (0, 0) ccw
  line L84 (1.5298, 5.8017) -> (1.1925, 5.3692)
  line L85 (1.1925, 5.3692) -> (0.9463, 4.9096)
  arc A43 (0.9463, 4.9096) -> (0.4753, 4.9774) centre (0, 0) ccw
  line L86 (0.4753, 4.9774) -> (0.3685, 5.4876)
  line L87 (0.3685, 5.4876) -> (0.1667, 5.9977)
extrude "Extrusion1" add sketch "Skizze_1" along normal mid plane 4
sketch "Skizze_2" plane through (0, 0, 0) normal (0, 0, 1) x (1, 0, 0)
  line L0 (6, 0) -> (2, 0)
  line L1 (2, 0) -> (2, 4)
  line L2 (2, 4) -> (6, 4)
  line L3 (6, 4) -> (6, 0)
  line L4 (6, 0) -> (2, 0)
revolve "Revolution1" add sketch "Skizze_2" angle 360 about axis through (6, 0, 0) along (1, 0, 0)
sketch "Skizze_3" plane through (6, 0, 0) normal (1, 0, 0) x (0, 1, 0)
  circle A0 centre (0, 0) radius 1.5
extrude "Extrusion2" cut sketch "Skizze_3" along normal mid plane 16
properties part number "M-0.5 Zb-4mm M-0.7 Zb-5mm mN 21102200"
